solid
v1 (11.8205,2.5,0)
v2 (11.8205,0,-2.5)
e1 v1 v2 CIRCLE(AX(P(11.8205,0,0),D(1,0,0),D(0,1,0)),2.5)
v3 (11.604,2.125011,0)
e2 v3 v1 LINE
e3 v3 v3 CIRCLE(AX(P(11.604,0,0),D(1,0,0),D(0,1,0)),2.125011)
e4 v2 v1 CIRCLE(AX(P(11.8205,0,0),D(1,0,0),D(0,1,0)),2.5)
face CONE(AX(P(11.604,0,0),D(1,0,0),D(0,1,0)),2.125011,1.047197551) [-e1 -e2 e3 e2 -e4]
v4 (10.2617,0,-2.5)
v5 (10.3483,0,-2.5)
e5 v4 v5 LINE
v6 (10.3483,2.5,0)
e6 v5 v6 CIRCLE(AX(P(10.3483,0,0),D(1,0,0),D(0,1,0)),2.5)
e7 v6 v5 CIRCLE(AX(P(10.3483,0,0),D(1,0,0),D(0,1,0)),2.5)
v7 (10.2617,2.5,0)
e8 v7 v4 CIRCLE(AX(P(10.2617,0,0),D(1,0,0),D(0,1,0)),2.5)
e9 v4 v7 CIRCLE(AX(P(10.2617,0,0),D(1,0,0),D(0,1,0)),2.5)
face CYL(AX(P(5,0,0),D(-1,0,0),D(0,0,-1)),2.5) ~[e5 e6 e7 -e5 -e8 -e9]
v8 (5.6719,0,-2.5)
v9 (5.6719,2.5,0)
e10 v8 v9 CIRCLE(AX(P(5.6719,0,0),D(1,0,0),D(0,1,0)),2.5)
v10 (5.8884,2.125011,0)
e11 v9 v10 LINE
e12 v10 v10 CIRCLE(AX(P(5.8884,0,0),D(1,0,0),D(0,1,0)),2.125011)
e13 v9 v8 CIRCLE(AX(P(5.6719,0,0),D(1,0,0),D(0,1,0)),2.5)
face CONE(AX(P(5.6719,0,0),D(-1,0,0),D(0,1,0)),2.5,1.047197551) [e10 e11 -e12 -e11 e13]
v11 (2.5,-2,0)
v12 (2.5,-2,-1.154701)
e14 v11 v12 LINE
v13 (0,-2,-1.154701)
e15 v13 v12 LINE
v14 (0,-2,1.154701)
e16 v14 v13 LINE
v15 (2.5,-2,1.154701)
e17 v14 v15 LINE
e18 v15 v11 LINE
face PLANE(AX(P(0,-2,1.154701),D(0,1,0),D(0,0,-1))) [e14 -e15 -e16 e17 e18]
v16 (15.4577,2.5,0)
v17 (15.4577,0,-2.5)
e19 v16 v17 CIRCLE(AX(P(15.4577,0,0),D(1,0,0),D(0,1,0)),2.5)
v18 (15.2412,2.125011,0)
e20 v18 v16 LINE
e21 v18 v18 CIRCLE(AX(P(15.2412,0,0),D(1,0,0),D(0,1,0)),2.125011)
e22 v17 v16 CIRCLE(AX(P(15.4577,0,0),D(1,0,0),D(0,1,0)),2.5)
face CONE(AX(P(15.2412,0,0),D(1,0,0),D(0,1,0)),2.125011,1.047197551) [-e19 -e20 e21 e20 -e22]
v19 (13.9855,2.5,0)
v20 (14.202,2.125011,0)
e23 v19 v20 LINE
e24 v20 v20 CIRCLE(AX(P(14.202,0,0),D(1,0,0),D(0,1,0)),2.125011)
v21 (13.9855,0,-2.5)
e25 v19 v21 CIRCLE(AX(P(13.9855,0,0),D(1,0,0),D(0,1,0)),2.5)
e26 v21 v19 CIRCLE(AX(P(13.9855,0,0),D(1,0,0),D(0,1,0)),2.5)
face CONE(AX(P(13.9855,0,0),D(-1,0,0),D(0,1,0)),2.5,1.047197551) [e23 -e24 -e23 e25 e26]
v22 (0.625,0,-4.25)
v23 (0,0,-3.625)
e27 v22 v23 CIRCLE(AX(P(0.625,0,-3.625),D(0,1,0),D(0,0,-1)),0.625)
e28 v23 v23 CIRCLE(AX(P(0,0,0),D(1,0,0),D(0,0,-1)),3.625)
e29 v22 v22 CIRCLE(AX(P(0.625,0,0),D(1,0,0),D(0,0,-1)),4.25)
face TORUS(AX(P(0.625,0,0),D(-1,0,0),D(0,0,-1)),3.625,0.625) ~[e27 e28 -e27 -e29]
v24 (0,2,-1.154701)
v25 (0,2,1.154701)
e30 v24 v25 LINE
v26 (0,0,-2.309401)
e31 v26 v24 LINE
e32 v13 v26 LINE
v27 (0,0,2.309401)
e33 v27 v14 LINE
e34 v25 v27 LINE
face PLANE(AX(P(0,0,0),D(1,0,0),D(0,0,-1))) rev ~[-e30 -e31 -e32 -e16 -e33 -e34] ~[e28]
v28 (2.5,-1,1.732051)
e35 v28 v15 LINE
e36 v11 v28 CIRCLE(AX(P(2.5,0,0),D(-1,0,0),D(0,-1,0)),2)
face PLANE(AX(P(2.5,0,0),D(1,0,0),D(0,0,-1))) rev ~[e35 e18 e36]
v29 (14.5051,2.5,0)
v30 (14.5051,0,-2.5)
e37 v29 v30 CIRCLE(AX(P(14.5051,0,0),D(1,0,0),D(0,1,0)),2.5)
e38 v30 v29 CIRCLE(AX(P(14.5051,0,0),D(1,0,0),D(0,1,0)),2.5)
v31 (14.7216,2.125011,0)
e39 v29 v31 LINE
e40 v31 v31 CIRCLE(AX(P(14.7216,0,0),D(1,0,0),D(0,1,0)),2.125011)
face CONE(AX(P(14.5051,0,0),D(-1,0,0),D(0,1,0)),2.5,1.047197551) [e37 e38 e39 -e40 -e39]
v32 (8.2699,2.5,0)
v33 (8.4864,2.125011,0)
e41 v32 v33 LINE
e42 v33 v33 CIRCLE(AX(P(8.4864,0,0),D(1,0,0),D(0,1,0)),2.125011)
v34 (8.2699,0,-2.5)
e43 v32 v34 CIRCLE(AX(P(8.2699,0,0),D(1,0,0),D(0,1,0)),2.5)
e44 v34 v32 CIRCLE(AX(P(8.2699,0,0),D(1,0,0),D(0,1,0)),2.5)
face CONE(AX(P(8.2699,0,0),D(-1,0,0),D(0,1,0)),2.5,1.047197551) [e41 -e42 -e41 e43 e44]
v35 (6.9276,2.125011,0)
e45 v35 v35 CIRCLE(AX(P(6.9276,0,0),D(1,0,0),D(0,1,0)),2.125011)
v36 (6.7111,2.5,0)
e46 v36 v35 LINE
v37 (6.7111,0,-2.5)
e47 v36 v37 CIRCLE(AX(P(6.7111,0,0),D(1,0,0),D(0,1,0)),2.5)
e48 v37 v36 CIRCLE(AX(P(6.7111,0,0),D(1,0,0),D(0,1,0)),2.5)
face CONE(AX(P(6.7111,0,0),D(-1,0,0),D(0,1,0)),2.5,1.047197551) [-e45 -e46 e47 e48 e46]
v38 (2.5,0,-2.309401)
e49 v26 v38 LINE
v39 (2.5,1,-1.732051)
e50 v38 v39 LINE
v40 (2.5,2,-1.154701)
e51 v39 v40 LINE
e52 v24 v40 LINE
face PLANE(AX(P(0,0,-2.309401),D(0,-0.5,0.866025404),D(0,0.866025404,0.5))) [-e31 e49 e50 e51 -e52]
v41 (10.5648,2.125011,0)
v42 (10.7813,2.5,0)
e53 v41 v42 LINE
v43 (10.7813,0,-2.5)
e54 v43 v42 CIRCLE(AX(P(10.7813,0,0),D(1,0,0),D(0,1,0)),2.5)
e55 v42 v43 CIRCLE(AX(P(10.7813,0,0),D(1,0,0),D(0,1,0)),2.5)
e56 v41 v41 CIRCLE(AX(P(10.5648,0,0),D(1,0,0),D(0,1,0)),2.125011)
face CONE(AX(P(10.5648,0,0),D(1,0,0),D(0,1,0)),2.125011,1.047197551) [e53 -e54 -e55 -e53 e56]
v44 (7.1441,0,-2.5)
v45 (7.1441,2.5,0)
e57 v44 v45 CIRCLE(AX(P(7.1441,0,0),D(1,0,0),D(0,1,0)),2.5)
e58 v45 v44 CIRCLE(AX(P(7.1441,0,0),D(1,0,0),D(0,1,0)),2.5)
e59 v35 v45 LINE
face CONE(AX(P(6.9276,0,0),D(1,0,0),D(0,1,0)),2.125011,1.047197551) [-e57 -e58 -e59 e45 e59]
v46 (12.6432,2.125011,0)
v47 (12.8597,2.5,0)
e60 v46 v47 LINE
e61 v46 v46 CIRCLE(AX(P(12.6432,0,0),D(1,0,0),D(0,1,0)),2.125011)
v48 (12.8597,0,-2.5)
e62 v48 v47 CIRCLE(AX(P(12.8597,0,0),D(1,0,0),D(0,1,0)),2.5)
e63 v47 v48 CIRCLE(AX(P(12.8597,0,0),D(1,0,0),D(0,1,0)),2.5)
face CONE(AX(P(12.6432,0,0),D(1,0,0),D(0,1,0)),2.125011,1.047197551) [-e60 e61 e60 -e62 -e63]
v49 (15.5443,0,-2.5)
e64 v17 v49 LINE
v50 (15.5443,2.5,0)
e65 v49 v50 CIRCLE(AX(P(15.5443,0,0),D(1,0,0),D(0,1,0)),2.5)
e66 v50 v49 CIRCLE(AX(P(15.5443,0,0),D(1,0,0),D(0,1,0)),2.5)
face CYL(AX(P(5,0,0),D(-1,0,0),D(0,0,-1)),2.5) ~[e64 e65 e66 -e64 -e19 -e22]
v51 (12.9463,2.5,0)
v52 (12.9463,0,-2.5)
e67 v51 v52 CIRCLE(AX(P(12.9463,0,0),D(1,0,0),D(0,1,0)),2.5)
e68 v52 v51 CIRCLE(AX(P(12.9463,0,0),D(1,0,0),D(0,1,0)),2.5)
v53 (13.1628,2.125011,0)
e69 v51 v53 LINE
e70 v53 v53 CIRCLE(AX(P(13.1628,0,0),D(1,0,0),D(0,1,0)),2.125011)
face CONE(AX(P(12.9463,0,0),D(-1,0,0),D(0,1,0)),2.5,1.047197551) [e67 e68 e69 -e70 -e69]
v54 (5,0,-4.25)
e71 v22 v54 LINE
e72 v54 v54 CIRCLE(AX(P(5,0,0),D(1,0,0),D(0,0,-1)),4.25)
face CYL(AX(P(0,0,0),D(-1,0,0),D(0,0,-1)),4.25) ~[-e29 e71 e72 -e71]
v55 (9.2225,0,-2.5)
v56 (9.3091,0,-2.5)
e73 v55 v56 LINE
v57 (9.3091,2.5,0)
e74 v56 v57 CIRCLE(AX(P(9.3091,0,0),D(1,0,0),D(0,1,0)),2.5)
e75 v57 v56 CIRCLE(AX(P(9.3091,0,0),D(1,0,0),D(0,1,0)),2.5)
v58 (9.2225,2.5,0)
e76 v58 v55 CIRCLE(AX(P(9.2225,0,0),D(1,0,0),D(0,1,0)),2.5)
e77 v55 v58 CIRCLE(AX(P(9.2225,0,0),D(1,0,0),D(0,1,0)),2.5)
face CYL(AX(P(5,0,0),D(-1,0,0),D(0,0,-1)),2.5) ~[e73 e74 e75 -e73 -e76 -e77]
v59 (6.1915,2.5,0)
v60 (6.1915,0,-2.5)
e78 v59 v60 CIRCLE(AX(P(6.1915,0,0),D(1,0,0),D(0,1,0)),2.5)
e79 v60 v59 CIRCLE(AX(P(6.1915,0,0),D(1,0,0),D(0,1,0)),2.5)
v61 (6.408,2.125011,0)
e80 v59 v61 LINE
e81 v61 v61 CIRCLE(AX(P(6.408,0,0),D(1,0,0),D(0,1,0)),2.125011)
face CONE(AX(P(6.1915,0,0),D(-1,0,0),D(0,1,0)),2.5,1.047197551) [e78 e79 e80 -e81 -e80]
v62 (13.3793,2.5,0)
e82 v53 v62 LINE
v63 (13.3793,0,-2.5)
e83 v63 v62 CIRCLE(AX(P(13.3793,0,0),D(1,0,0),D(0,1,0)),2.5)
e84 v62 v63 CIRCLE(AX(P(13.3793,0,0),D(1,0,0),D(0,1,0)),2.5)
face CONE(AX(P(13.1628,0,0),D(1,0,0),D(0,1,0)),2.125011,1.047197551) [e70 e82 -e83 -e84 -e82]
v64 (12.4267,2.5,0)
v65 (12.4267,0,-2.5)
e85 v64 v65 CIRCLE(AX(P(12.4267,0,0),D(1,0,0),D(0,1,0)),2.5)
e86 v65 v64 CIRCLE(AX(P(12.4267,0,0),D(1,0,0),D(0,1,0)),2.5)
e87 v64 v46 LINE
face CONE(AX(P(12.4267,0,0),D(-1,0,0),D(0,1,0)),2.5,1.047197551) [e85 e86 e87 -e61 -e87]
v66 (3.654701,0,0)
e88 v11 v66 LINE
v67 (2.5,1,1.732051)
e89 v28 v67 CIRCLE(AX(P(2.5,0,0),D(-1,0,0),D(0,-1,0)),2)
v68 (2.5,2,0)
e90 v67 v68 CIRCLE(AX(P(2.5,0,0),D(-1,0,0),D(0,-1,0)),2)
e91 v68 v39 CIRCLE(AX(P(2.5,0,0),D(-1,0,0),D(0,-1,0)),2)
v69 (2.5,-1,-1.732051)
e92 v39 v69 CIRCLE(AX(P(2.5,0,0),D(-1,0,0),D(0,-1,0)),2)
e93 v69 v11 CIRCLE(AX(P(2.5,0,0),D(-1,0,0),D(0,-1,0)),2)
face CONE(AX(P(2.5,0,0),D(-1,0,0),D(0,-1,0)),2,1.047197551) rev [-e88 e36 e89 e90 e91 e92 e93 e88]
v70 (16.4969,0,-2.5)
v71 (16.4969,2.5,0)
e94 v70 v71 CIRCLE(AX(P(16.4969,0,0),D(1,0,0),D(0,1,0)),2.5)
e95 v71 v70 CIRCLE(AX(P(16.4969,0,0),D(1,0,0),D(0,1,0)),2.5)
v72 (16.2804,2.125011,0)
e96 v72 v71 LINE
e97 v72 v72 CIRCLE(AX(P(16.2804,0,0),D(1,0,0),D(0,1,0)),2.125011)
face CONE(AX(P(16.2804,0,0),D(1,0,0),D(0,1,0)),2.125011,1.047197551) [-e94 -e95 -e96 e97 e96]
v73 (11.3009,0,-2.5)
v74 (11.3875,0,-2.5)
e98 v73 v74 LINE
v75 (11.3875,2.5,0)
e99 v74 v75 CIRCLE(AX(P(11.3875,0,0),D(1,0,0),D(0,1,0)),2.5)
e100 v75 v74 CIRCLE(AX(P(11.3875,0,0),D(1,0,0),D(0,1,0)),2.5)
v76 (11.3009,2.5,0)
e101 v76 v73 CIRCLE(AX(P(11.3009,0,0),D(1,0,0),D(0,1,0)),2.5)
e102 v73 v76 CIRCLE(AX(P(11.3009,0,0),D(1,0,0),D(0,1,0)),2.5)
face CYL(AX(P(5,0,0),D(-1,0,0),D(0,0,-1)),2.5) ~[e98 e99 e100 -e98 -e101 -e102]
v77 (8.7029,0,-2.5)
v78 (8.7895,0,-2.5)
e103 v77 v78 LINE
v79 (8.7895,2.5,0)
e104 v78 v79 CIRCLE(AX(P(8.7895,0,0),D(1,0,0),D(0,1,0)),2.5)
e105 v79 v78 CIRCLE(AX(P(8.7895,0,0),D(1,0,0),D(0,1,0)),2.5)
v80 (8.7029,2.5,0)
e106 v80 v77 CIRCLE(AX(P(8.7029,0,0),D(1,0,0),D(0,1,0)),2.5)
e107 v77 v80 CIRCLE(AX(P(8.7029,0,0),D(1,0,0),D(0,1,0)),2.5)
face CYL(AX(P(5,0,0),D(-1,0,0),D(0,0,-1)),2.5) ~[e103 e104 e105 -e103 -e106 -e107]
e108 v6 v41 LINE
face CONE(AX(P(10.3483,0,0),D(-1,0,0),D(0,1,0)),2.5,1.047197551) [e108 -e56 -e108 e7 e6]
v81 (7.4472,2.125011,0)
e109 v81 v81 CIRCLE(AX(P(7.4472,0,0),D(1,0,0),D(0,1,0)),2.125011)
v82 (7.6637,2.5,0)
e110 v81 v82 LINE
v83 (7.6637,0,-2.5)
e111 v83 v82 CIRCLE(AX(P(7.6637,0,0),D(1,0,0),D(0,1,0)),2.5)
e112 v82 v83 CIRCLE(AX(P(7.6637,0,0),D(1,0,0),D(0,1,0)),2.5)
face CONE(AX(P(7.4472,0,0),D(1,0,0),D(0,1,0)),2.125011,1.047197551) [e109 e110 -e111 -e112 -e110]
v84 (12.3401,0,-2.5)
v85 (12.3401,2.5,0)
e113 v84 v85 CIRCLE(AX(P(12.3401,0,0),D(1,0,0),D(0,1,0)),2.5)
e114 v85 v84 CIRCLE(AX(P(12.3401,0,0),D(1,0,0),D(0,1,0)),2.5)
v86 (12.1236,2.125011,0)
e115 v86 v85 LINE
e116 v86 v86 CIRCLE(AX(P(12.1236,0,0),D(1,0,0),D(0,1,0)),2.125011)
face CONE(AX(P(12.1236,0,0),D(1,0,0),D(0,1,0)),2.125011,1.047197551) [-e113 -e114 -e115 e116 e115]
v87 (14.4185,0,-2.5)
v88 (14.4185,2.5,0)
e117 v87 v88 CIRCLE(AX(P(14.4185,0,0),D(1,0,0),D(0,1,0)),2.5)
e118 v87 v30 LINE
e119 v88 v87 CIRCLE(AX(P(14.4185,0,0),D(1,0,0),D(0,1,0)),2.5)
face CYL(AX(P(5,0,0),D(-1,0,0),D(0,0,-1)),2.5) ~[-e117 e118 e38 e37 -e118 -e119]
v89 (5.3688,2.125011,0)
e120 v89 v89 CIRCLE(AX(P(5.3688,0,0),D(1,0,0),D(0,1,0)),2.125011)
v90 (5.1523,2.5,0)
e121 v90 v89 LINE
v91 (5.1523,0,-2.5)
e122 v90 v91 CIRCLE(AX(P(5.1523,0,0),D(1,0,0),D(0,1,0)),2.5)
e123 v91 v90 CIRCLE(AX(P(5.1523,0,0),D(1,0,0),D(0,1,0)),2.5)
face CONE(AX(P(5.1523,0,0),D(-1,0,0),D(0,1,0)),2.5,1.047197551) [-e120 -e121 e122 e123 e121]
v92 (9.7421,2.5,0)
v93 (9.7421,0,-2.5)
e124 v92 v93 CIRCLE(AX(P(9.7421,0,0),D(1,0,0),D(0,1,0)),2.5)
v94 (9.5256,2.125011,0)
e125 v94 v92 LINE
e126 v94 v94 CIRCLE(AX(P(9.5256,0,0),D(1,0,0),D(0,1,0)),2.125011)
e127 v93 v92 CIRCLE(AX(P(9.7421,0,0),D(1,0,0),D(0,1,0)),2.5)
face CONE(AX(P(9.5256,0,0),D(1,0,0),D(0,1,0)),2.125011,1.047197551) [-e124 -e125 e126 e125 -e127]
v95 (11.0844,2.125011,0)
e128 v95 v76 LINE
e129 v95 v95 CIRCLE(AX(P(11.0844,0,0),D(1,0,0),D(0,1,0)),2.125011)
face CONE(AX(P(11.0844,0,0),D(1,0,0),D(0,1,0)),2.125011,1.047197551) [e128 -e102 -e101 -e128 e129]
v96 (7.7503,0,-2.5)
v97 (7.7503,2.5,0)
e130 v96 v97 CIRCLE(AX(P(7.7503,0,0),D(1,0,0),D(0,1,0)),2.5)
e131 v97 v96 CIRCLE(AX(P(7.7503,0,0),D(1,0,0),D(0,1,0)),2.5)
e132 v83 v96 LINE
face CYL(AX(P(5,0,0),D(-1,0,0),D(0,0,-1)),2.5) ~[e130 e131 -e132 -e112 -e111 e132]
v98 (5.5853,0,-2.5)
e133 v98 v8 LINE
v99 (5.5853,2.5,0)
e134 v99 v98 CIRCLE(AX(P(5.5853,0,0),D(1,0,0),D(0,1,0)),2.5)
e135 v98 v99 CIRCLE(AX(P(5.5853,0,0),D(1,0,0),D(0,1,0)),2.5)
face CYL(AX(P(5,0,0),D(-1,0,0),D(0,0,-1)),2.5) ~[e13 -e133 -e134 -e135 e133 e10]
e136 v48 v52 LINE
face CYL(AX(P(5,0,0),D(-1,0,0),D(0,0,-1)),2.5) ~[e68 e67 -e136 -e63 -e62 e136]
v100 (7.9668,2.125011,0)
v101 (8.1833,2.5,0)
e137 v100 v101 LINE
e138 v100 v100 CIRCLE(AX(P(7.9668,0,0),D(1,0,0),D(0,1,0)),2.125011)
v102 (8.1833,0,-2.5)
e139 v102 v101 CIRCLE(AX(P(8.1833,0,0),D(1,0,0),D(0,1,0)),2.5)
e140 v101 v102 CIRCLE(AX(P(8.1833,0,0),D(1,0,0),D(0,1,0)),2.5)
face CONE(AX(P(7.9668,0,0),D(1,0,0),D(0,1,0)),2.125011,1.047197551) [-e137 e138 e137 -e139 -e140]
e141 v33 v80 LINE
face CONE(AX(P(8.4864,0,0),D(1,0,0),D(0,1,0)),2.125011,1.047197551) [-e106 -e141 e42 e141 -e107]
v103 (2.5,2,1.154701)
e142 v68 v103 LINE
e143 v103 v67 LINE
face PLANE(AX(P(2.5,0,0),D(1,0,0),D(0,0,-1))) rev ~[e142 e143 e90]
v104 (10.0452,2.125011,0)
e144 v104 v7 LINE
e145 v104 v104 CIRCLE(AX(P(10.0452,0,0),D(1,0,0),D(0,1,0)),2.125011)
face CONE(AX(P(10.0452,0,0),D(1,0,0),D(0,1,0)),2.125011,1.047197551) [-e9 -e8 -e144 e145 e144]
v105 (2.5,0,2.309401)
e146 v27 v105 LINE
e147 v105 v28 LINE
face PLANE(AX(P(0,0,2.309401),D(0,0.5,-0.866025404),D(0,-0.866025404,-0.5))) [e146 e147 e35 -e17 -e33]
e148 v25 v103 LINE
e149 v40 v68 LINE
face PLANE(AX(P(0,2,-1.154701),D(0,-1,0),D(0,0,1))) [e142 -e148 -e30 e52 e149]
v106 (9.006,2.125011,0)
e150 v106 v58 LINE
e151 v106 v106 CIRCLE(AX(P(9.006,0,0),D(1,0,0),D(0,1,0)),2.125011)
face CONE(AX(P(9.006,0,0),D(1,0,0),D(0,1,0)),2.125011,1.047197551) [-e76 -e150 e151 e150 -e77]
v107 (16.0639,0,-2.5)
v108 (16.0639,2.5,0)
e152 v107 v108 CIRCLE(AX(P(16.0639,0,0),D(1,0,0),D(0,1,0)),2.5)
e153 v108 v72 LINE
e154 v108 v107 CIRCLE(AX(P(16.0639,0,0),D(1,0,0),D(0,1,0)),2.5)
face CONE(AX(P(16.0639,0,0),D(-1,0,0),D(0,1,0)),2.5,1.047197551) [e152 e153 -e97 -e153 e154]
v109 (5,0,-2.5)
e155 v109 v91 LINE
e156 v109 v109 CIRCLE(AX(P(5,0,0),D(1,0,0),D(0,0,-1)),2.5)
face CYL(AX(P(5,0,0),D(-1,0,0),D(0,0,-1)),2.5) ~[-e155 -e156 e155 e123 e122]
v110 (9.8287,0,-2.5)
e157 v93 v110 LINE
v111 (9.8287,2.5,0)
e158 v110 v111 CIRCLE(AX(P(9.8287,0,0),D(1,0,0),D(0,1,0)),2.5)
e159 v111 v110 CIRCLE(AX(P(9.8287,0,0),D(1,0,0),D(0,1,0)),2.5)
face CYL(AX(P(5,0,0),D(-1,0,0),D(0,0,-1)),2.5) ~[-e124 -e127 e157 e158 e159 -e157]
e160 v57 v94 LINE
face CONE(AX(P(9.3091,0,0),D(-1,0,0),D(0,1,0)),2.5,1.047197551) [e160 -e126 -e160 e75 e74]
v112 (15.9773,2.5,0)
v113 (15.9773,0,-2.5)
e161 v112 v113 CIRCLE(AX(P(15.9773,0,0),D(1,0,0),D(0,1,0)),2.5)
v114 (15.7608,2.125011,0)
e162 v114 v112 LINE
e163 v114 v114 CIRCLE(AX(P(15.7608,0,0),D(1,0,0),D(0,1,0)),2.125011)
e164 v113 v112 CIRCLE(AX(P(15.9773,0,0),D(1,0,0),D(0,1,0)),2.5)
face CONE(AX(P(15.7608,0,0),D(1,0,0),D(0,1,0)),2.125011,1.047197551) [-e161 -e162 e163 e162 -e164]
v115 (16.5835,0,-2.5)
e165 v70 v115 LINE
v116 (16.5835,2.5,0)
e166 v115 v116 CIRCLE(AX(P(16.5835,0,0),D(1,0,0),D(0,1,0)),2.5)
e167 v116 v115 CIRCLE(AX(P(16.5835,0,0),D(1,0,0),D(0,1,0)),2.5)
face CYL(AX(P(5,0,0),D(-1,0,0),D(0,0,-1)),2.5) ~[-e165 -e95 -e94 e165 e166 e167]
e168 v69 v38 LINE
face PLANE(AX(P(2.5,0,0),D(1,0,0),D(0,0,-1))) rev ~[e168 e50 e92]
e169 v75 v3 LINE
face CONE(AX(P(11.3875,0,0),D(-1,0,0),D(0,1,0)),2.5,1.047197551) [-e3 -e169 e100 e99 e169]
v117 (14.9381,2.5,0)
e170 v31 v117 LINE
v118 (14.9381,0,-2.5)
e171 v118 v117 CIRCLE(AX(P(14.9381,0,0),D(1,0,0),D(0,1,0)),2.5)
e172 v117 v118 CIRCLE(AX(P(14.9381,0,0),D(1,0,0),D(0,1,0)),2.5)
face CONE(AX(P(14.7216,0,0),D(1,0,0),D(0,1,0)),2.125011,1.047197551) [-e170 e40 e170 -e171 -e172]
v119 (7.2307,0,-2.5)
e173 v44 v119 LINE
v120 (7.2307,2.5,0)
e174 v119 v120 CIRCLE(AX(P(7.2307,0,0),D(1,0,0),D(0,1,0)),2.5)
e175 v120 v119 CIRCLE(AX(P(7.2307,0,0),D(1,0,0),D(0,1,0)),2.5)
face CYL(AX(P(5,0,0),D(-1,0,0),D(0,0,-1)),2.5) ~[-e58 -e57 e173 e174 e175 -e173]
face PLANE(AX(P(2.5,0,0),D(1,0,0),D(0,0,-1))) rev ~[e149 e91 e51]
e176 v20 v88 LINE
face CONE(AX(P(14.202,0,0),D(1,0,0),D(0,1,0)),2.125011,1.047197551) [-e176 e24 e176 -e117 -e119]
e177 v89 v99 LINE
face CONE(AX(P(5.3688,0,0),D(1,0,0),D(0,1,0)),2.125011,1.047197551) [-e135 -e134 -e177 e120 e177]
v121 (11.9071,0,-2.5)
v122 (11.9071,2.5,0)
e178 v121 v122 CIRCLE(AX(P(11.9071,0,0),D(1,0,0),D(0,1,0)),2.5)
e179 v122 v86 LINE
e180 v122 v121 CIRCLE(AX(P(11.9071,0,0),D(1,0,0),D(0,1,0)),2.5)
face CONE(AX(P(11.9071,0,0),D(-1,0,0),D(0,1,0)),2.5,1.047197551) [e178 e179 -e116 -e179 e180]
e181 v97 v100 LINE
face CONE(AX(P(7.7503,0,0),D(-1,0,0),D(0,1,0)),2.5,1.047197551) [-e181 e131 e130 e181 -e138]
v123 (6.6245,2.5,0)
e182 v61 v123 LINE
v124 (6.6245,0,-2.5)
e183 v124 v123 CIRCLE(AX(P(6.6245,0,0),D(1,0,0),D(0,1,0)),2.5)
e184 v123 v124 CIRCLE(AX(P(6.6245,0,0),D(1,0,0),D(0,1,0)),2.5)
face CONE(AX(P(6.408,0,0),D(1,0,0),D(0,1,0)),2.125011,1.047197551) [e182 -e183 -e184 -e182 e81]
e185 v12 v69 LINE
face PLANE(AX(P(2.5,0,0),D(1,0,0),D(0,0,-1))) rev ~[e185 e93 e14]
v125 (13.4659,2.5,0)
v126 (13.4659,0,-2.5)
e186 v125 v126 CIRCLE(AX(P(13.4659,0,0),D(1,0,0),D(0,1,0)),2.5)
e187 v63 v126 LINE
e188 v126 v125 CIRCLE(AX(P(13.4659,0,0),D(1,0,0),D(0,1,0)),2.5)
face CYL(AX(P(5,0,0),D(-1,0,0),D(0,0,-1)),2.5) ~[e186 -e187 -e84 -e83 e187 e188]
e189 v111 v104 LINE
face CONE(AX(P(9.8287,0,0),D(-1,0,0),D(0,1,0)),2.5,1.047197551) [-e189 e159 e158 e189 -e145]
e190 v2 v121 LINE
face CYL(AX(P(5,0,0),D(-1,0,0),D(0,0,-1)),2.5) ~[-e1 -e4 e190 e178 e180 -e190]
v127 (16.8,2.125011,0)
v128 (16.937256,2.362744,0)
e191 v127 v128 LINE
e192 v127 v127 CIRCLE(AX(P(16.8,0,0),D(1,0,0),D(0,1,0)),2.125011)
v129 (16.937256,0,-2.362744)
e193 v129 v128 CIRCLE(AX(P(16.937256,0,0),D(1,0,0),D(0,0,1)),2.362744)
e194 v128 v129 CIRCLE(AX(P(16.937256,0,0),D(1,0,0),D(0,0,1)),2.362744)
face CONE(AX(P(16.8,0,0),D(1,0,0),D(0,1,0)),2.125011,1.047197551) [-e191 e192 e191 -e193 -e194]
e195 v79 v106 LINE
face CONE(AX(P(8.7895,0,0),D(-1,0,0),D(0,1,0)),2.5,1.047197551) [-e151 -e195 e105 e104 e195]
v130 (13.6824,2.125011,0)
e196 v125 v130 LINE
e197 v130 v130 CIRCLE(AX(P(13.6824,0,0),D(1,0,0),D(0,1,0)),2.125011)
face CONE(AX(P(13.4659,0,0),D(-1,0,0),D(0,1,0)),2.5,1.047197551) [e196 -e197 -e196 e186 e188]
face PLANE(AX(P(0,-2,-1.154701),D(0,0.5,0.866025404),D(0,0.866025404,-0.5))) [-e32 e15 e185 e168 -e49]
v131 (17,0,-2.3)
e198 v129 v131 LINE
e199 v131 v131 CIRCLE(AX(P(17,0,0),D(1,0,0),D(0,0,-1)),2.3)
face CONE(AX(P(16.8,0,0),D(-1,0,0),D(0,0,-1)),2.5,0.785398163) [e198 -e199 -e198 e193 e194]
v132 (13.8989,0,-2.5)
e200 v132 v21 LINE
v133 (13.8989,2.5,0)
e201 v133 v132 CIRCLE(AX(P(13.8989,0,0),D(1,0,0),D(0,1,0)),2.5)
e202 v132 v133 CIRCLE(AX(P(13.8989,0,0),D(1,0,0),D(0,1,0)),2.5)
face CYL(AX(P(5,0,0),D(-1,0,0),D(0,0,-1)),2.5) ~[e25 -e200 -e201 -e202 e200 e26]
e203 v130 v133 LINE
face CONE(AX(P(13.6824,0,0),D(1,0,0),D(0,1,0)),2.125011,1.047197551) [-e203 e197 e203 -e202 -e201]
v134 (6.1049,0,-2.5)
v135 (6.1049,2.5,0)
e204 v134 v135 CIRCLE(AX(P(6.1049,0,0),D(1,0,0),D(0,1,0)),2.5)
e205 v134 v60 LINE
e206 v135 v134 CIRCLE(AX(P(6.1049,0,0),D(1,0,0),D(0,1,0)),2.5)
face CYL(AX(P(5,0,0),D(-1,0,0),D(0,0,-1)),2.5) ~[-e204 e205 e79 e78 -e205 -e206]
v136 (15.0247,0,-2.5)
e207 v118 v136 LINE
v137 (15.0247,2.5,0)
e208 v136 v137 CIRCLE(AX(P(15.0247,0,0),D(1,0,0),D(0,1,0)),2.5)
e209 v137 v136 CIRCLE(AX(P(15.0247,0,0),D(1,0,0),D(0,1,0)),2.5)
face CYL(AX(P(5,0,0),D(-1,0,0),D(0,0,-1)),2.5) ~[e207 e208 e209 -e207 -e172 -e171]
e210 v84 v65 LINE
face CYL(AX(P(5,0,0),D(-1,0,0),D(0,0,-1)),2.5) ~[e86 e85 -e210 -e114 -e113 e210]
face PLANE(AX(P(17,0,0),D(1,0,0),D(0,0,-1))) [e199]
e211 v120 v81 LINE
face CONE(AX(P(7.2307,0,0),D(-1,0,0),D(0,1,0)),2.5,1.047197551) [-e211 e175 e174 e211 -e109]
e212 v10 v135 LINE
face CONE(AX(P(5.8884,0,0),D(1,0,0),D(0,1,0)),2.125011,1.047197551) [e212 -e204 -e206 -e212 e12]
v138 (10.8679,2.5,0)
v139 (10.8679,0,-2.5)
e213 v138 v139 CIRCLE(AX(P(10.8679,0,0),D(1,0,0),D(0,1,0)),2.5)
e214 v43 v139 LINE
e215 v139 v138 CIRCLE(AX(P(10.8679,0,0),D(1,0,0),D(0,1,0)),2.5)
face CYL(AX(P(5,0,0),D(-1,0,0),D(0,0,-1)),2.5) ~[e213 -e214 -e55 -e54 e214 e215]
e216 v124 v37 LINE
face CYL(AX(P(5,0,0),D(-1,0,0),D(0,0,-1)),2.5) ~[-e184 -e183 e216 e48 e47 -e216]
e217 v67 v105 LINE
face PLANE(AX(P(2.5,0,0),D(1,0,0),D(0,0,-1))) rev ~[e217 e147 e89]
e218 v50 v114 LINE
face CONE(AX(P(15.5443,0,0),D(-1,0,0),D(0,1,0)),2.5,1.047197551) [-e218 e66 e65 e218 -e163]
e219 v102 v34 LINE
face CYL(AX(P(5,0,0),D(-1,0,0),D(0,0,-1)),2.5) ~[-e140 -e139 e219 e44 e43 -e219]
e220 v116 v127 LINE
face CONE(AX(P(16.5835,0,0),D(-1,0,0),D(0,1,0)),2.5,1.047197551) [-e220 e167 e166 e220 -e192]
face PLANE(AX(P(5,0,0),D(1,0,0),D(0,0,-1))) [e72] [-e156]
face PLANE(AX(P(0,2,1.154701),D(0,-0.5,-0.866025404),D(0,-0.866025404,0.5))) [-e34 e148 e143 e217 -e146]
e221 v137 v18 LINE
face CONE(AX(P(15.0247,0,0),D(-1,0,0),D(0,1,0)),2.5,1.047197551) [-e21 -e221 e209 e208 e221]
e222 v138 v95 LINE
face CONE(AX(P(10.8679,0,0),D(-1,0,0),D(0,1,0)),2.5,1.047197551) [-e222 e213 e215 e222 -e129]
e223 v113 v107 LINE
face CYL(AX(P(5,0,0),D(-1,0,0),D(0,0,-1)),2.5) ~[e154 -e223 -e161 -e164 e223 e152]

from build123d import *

# Parameters (mm, degrees)
SKETCH1_R           = 4.25
BASEHEAD_DEPTH      = 5
SKETCH2_R           = 2.5
BASEBODY_DEPTH      = 12
HEXAGONSOCKET_DEPTH = 2.5
TOPFILLET_R         = 0.625
CHAMFER1_SIZE       = 0.2
LPATTERN10_COUNT    = 23
LPATTERN10_PITCH    = 0.5196


with BuildPart() as part:
    # Sketch1 → BaseHead (new body)
    with BuildSketch(Plane(origin=(0, 0, 0), x_dir=(0, 0, -1), z_dir=(1, 0, 0))):
        Circle(SKETCH1_R)
    extrude(amount=BASEHEAD_DEPTH)

    # Sketch2 → BaseBody (add)
    with BuildSketch(Plane(origin=(5, 0, 0), x_dir=(0, 0, -1), z_dir=(1, 0, 0))):
        Circle(SKETCH2_R)
    extrude(amount=BASEBODY_DEPTH)

    # Sketch3 → HexagonSocket (cut)
    with BuildSketch(Plane(origin=(0, 0, 0), x_dir=(0, 0, -1), z_dir=(1, 0, 0))):
        Polygon((2.309401077, 0), (1.154700538, 2), (-1.154700538, 2), (-2.309401077, 0), (-1.154700538, -2), (1.154700538, -2), align=None)
    extrude(amount=HEXAGONSOCKET_DEPTH, mode=Mode.SUBTRACT)

    # Sketch4 → Cut-Revolve1 (revolve, cut)
    with BuildSketch(Plane(origin=(-4.19613823, 0.75, 0), x_dir=(-1, 0, 0), z_dir=(0, 0, 1))):
        Polygon((-6.69613823, 2.75), (-7.850838768, 0.75), (-6.69613823, 0.75), align=None)
    revolve(axis=Axis((0.838992387, 0, 0), (-1, 0, 0)), mode=Mode.SUBTRACT)

    # TopFillet
    topfillet_edges = [part.edges().sort_by_distance(p)[0] for p in [
        (0, 0, 4.25),
    ]]
    fillet(topfillet_edges, radius=TOPFILLET_R)

    # Chamfer1
    chamfer1_edges = [part.edges().sort_by_distance(p)[0] for p in [
        (17, 0, 2.5),
    ]]
    chamfer(chamfer1_edges, length=CHAMFER1_SIZE)

    # Sketch5 → Cut-Revolve10 (revolve, cut)
    with BuildSketch(Plane.XY):
        Polygon((16.8, 2.125011), (17.0165, 2.5), (17.0165, 2.933), (16.5835, 2.933), (16.5835, 2.5), align=None)
    cut_revolve10 = revolve(axis=Axis((0, 0, 0), (1, 0, 0)), mode=Mode.SUBTRACT)

    # LPattern10: Cut-Revolve10 ×23
    with Locations(*[(-i * LPATTERN10_PITCH, 0, 0) for i in range(1, LPATTERN10_COUNT)]):
        add(cut_revolve10, mode=Mode.SUBTRACT)


solid = part.part
